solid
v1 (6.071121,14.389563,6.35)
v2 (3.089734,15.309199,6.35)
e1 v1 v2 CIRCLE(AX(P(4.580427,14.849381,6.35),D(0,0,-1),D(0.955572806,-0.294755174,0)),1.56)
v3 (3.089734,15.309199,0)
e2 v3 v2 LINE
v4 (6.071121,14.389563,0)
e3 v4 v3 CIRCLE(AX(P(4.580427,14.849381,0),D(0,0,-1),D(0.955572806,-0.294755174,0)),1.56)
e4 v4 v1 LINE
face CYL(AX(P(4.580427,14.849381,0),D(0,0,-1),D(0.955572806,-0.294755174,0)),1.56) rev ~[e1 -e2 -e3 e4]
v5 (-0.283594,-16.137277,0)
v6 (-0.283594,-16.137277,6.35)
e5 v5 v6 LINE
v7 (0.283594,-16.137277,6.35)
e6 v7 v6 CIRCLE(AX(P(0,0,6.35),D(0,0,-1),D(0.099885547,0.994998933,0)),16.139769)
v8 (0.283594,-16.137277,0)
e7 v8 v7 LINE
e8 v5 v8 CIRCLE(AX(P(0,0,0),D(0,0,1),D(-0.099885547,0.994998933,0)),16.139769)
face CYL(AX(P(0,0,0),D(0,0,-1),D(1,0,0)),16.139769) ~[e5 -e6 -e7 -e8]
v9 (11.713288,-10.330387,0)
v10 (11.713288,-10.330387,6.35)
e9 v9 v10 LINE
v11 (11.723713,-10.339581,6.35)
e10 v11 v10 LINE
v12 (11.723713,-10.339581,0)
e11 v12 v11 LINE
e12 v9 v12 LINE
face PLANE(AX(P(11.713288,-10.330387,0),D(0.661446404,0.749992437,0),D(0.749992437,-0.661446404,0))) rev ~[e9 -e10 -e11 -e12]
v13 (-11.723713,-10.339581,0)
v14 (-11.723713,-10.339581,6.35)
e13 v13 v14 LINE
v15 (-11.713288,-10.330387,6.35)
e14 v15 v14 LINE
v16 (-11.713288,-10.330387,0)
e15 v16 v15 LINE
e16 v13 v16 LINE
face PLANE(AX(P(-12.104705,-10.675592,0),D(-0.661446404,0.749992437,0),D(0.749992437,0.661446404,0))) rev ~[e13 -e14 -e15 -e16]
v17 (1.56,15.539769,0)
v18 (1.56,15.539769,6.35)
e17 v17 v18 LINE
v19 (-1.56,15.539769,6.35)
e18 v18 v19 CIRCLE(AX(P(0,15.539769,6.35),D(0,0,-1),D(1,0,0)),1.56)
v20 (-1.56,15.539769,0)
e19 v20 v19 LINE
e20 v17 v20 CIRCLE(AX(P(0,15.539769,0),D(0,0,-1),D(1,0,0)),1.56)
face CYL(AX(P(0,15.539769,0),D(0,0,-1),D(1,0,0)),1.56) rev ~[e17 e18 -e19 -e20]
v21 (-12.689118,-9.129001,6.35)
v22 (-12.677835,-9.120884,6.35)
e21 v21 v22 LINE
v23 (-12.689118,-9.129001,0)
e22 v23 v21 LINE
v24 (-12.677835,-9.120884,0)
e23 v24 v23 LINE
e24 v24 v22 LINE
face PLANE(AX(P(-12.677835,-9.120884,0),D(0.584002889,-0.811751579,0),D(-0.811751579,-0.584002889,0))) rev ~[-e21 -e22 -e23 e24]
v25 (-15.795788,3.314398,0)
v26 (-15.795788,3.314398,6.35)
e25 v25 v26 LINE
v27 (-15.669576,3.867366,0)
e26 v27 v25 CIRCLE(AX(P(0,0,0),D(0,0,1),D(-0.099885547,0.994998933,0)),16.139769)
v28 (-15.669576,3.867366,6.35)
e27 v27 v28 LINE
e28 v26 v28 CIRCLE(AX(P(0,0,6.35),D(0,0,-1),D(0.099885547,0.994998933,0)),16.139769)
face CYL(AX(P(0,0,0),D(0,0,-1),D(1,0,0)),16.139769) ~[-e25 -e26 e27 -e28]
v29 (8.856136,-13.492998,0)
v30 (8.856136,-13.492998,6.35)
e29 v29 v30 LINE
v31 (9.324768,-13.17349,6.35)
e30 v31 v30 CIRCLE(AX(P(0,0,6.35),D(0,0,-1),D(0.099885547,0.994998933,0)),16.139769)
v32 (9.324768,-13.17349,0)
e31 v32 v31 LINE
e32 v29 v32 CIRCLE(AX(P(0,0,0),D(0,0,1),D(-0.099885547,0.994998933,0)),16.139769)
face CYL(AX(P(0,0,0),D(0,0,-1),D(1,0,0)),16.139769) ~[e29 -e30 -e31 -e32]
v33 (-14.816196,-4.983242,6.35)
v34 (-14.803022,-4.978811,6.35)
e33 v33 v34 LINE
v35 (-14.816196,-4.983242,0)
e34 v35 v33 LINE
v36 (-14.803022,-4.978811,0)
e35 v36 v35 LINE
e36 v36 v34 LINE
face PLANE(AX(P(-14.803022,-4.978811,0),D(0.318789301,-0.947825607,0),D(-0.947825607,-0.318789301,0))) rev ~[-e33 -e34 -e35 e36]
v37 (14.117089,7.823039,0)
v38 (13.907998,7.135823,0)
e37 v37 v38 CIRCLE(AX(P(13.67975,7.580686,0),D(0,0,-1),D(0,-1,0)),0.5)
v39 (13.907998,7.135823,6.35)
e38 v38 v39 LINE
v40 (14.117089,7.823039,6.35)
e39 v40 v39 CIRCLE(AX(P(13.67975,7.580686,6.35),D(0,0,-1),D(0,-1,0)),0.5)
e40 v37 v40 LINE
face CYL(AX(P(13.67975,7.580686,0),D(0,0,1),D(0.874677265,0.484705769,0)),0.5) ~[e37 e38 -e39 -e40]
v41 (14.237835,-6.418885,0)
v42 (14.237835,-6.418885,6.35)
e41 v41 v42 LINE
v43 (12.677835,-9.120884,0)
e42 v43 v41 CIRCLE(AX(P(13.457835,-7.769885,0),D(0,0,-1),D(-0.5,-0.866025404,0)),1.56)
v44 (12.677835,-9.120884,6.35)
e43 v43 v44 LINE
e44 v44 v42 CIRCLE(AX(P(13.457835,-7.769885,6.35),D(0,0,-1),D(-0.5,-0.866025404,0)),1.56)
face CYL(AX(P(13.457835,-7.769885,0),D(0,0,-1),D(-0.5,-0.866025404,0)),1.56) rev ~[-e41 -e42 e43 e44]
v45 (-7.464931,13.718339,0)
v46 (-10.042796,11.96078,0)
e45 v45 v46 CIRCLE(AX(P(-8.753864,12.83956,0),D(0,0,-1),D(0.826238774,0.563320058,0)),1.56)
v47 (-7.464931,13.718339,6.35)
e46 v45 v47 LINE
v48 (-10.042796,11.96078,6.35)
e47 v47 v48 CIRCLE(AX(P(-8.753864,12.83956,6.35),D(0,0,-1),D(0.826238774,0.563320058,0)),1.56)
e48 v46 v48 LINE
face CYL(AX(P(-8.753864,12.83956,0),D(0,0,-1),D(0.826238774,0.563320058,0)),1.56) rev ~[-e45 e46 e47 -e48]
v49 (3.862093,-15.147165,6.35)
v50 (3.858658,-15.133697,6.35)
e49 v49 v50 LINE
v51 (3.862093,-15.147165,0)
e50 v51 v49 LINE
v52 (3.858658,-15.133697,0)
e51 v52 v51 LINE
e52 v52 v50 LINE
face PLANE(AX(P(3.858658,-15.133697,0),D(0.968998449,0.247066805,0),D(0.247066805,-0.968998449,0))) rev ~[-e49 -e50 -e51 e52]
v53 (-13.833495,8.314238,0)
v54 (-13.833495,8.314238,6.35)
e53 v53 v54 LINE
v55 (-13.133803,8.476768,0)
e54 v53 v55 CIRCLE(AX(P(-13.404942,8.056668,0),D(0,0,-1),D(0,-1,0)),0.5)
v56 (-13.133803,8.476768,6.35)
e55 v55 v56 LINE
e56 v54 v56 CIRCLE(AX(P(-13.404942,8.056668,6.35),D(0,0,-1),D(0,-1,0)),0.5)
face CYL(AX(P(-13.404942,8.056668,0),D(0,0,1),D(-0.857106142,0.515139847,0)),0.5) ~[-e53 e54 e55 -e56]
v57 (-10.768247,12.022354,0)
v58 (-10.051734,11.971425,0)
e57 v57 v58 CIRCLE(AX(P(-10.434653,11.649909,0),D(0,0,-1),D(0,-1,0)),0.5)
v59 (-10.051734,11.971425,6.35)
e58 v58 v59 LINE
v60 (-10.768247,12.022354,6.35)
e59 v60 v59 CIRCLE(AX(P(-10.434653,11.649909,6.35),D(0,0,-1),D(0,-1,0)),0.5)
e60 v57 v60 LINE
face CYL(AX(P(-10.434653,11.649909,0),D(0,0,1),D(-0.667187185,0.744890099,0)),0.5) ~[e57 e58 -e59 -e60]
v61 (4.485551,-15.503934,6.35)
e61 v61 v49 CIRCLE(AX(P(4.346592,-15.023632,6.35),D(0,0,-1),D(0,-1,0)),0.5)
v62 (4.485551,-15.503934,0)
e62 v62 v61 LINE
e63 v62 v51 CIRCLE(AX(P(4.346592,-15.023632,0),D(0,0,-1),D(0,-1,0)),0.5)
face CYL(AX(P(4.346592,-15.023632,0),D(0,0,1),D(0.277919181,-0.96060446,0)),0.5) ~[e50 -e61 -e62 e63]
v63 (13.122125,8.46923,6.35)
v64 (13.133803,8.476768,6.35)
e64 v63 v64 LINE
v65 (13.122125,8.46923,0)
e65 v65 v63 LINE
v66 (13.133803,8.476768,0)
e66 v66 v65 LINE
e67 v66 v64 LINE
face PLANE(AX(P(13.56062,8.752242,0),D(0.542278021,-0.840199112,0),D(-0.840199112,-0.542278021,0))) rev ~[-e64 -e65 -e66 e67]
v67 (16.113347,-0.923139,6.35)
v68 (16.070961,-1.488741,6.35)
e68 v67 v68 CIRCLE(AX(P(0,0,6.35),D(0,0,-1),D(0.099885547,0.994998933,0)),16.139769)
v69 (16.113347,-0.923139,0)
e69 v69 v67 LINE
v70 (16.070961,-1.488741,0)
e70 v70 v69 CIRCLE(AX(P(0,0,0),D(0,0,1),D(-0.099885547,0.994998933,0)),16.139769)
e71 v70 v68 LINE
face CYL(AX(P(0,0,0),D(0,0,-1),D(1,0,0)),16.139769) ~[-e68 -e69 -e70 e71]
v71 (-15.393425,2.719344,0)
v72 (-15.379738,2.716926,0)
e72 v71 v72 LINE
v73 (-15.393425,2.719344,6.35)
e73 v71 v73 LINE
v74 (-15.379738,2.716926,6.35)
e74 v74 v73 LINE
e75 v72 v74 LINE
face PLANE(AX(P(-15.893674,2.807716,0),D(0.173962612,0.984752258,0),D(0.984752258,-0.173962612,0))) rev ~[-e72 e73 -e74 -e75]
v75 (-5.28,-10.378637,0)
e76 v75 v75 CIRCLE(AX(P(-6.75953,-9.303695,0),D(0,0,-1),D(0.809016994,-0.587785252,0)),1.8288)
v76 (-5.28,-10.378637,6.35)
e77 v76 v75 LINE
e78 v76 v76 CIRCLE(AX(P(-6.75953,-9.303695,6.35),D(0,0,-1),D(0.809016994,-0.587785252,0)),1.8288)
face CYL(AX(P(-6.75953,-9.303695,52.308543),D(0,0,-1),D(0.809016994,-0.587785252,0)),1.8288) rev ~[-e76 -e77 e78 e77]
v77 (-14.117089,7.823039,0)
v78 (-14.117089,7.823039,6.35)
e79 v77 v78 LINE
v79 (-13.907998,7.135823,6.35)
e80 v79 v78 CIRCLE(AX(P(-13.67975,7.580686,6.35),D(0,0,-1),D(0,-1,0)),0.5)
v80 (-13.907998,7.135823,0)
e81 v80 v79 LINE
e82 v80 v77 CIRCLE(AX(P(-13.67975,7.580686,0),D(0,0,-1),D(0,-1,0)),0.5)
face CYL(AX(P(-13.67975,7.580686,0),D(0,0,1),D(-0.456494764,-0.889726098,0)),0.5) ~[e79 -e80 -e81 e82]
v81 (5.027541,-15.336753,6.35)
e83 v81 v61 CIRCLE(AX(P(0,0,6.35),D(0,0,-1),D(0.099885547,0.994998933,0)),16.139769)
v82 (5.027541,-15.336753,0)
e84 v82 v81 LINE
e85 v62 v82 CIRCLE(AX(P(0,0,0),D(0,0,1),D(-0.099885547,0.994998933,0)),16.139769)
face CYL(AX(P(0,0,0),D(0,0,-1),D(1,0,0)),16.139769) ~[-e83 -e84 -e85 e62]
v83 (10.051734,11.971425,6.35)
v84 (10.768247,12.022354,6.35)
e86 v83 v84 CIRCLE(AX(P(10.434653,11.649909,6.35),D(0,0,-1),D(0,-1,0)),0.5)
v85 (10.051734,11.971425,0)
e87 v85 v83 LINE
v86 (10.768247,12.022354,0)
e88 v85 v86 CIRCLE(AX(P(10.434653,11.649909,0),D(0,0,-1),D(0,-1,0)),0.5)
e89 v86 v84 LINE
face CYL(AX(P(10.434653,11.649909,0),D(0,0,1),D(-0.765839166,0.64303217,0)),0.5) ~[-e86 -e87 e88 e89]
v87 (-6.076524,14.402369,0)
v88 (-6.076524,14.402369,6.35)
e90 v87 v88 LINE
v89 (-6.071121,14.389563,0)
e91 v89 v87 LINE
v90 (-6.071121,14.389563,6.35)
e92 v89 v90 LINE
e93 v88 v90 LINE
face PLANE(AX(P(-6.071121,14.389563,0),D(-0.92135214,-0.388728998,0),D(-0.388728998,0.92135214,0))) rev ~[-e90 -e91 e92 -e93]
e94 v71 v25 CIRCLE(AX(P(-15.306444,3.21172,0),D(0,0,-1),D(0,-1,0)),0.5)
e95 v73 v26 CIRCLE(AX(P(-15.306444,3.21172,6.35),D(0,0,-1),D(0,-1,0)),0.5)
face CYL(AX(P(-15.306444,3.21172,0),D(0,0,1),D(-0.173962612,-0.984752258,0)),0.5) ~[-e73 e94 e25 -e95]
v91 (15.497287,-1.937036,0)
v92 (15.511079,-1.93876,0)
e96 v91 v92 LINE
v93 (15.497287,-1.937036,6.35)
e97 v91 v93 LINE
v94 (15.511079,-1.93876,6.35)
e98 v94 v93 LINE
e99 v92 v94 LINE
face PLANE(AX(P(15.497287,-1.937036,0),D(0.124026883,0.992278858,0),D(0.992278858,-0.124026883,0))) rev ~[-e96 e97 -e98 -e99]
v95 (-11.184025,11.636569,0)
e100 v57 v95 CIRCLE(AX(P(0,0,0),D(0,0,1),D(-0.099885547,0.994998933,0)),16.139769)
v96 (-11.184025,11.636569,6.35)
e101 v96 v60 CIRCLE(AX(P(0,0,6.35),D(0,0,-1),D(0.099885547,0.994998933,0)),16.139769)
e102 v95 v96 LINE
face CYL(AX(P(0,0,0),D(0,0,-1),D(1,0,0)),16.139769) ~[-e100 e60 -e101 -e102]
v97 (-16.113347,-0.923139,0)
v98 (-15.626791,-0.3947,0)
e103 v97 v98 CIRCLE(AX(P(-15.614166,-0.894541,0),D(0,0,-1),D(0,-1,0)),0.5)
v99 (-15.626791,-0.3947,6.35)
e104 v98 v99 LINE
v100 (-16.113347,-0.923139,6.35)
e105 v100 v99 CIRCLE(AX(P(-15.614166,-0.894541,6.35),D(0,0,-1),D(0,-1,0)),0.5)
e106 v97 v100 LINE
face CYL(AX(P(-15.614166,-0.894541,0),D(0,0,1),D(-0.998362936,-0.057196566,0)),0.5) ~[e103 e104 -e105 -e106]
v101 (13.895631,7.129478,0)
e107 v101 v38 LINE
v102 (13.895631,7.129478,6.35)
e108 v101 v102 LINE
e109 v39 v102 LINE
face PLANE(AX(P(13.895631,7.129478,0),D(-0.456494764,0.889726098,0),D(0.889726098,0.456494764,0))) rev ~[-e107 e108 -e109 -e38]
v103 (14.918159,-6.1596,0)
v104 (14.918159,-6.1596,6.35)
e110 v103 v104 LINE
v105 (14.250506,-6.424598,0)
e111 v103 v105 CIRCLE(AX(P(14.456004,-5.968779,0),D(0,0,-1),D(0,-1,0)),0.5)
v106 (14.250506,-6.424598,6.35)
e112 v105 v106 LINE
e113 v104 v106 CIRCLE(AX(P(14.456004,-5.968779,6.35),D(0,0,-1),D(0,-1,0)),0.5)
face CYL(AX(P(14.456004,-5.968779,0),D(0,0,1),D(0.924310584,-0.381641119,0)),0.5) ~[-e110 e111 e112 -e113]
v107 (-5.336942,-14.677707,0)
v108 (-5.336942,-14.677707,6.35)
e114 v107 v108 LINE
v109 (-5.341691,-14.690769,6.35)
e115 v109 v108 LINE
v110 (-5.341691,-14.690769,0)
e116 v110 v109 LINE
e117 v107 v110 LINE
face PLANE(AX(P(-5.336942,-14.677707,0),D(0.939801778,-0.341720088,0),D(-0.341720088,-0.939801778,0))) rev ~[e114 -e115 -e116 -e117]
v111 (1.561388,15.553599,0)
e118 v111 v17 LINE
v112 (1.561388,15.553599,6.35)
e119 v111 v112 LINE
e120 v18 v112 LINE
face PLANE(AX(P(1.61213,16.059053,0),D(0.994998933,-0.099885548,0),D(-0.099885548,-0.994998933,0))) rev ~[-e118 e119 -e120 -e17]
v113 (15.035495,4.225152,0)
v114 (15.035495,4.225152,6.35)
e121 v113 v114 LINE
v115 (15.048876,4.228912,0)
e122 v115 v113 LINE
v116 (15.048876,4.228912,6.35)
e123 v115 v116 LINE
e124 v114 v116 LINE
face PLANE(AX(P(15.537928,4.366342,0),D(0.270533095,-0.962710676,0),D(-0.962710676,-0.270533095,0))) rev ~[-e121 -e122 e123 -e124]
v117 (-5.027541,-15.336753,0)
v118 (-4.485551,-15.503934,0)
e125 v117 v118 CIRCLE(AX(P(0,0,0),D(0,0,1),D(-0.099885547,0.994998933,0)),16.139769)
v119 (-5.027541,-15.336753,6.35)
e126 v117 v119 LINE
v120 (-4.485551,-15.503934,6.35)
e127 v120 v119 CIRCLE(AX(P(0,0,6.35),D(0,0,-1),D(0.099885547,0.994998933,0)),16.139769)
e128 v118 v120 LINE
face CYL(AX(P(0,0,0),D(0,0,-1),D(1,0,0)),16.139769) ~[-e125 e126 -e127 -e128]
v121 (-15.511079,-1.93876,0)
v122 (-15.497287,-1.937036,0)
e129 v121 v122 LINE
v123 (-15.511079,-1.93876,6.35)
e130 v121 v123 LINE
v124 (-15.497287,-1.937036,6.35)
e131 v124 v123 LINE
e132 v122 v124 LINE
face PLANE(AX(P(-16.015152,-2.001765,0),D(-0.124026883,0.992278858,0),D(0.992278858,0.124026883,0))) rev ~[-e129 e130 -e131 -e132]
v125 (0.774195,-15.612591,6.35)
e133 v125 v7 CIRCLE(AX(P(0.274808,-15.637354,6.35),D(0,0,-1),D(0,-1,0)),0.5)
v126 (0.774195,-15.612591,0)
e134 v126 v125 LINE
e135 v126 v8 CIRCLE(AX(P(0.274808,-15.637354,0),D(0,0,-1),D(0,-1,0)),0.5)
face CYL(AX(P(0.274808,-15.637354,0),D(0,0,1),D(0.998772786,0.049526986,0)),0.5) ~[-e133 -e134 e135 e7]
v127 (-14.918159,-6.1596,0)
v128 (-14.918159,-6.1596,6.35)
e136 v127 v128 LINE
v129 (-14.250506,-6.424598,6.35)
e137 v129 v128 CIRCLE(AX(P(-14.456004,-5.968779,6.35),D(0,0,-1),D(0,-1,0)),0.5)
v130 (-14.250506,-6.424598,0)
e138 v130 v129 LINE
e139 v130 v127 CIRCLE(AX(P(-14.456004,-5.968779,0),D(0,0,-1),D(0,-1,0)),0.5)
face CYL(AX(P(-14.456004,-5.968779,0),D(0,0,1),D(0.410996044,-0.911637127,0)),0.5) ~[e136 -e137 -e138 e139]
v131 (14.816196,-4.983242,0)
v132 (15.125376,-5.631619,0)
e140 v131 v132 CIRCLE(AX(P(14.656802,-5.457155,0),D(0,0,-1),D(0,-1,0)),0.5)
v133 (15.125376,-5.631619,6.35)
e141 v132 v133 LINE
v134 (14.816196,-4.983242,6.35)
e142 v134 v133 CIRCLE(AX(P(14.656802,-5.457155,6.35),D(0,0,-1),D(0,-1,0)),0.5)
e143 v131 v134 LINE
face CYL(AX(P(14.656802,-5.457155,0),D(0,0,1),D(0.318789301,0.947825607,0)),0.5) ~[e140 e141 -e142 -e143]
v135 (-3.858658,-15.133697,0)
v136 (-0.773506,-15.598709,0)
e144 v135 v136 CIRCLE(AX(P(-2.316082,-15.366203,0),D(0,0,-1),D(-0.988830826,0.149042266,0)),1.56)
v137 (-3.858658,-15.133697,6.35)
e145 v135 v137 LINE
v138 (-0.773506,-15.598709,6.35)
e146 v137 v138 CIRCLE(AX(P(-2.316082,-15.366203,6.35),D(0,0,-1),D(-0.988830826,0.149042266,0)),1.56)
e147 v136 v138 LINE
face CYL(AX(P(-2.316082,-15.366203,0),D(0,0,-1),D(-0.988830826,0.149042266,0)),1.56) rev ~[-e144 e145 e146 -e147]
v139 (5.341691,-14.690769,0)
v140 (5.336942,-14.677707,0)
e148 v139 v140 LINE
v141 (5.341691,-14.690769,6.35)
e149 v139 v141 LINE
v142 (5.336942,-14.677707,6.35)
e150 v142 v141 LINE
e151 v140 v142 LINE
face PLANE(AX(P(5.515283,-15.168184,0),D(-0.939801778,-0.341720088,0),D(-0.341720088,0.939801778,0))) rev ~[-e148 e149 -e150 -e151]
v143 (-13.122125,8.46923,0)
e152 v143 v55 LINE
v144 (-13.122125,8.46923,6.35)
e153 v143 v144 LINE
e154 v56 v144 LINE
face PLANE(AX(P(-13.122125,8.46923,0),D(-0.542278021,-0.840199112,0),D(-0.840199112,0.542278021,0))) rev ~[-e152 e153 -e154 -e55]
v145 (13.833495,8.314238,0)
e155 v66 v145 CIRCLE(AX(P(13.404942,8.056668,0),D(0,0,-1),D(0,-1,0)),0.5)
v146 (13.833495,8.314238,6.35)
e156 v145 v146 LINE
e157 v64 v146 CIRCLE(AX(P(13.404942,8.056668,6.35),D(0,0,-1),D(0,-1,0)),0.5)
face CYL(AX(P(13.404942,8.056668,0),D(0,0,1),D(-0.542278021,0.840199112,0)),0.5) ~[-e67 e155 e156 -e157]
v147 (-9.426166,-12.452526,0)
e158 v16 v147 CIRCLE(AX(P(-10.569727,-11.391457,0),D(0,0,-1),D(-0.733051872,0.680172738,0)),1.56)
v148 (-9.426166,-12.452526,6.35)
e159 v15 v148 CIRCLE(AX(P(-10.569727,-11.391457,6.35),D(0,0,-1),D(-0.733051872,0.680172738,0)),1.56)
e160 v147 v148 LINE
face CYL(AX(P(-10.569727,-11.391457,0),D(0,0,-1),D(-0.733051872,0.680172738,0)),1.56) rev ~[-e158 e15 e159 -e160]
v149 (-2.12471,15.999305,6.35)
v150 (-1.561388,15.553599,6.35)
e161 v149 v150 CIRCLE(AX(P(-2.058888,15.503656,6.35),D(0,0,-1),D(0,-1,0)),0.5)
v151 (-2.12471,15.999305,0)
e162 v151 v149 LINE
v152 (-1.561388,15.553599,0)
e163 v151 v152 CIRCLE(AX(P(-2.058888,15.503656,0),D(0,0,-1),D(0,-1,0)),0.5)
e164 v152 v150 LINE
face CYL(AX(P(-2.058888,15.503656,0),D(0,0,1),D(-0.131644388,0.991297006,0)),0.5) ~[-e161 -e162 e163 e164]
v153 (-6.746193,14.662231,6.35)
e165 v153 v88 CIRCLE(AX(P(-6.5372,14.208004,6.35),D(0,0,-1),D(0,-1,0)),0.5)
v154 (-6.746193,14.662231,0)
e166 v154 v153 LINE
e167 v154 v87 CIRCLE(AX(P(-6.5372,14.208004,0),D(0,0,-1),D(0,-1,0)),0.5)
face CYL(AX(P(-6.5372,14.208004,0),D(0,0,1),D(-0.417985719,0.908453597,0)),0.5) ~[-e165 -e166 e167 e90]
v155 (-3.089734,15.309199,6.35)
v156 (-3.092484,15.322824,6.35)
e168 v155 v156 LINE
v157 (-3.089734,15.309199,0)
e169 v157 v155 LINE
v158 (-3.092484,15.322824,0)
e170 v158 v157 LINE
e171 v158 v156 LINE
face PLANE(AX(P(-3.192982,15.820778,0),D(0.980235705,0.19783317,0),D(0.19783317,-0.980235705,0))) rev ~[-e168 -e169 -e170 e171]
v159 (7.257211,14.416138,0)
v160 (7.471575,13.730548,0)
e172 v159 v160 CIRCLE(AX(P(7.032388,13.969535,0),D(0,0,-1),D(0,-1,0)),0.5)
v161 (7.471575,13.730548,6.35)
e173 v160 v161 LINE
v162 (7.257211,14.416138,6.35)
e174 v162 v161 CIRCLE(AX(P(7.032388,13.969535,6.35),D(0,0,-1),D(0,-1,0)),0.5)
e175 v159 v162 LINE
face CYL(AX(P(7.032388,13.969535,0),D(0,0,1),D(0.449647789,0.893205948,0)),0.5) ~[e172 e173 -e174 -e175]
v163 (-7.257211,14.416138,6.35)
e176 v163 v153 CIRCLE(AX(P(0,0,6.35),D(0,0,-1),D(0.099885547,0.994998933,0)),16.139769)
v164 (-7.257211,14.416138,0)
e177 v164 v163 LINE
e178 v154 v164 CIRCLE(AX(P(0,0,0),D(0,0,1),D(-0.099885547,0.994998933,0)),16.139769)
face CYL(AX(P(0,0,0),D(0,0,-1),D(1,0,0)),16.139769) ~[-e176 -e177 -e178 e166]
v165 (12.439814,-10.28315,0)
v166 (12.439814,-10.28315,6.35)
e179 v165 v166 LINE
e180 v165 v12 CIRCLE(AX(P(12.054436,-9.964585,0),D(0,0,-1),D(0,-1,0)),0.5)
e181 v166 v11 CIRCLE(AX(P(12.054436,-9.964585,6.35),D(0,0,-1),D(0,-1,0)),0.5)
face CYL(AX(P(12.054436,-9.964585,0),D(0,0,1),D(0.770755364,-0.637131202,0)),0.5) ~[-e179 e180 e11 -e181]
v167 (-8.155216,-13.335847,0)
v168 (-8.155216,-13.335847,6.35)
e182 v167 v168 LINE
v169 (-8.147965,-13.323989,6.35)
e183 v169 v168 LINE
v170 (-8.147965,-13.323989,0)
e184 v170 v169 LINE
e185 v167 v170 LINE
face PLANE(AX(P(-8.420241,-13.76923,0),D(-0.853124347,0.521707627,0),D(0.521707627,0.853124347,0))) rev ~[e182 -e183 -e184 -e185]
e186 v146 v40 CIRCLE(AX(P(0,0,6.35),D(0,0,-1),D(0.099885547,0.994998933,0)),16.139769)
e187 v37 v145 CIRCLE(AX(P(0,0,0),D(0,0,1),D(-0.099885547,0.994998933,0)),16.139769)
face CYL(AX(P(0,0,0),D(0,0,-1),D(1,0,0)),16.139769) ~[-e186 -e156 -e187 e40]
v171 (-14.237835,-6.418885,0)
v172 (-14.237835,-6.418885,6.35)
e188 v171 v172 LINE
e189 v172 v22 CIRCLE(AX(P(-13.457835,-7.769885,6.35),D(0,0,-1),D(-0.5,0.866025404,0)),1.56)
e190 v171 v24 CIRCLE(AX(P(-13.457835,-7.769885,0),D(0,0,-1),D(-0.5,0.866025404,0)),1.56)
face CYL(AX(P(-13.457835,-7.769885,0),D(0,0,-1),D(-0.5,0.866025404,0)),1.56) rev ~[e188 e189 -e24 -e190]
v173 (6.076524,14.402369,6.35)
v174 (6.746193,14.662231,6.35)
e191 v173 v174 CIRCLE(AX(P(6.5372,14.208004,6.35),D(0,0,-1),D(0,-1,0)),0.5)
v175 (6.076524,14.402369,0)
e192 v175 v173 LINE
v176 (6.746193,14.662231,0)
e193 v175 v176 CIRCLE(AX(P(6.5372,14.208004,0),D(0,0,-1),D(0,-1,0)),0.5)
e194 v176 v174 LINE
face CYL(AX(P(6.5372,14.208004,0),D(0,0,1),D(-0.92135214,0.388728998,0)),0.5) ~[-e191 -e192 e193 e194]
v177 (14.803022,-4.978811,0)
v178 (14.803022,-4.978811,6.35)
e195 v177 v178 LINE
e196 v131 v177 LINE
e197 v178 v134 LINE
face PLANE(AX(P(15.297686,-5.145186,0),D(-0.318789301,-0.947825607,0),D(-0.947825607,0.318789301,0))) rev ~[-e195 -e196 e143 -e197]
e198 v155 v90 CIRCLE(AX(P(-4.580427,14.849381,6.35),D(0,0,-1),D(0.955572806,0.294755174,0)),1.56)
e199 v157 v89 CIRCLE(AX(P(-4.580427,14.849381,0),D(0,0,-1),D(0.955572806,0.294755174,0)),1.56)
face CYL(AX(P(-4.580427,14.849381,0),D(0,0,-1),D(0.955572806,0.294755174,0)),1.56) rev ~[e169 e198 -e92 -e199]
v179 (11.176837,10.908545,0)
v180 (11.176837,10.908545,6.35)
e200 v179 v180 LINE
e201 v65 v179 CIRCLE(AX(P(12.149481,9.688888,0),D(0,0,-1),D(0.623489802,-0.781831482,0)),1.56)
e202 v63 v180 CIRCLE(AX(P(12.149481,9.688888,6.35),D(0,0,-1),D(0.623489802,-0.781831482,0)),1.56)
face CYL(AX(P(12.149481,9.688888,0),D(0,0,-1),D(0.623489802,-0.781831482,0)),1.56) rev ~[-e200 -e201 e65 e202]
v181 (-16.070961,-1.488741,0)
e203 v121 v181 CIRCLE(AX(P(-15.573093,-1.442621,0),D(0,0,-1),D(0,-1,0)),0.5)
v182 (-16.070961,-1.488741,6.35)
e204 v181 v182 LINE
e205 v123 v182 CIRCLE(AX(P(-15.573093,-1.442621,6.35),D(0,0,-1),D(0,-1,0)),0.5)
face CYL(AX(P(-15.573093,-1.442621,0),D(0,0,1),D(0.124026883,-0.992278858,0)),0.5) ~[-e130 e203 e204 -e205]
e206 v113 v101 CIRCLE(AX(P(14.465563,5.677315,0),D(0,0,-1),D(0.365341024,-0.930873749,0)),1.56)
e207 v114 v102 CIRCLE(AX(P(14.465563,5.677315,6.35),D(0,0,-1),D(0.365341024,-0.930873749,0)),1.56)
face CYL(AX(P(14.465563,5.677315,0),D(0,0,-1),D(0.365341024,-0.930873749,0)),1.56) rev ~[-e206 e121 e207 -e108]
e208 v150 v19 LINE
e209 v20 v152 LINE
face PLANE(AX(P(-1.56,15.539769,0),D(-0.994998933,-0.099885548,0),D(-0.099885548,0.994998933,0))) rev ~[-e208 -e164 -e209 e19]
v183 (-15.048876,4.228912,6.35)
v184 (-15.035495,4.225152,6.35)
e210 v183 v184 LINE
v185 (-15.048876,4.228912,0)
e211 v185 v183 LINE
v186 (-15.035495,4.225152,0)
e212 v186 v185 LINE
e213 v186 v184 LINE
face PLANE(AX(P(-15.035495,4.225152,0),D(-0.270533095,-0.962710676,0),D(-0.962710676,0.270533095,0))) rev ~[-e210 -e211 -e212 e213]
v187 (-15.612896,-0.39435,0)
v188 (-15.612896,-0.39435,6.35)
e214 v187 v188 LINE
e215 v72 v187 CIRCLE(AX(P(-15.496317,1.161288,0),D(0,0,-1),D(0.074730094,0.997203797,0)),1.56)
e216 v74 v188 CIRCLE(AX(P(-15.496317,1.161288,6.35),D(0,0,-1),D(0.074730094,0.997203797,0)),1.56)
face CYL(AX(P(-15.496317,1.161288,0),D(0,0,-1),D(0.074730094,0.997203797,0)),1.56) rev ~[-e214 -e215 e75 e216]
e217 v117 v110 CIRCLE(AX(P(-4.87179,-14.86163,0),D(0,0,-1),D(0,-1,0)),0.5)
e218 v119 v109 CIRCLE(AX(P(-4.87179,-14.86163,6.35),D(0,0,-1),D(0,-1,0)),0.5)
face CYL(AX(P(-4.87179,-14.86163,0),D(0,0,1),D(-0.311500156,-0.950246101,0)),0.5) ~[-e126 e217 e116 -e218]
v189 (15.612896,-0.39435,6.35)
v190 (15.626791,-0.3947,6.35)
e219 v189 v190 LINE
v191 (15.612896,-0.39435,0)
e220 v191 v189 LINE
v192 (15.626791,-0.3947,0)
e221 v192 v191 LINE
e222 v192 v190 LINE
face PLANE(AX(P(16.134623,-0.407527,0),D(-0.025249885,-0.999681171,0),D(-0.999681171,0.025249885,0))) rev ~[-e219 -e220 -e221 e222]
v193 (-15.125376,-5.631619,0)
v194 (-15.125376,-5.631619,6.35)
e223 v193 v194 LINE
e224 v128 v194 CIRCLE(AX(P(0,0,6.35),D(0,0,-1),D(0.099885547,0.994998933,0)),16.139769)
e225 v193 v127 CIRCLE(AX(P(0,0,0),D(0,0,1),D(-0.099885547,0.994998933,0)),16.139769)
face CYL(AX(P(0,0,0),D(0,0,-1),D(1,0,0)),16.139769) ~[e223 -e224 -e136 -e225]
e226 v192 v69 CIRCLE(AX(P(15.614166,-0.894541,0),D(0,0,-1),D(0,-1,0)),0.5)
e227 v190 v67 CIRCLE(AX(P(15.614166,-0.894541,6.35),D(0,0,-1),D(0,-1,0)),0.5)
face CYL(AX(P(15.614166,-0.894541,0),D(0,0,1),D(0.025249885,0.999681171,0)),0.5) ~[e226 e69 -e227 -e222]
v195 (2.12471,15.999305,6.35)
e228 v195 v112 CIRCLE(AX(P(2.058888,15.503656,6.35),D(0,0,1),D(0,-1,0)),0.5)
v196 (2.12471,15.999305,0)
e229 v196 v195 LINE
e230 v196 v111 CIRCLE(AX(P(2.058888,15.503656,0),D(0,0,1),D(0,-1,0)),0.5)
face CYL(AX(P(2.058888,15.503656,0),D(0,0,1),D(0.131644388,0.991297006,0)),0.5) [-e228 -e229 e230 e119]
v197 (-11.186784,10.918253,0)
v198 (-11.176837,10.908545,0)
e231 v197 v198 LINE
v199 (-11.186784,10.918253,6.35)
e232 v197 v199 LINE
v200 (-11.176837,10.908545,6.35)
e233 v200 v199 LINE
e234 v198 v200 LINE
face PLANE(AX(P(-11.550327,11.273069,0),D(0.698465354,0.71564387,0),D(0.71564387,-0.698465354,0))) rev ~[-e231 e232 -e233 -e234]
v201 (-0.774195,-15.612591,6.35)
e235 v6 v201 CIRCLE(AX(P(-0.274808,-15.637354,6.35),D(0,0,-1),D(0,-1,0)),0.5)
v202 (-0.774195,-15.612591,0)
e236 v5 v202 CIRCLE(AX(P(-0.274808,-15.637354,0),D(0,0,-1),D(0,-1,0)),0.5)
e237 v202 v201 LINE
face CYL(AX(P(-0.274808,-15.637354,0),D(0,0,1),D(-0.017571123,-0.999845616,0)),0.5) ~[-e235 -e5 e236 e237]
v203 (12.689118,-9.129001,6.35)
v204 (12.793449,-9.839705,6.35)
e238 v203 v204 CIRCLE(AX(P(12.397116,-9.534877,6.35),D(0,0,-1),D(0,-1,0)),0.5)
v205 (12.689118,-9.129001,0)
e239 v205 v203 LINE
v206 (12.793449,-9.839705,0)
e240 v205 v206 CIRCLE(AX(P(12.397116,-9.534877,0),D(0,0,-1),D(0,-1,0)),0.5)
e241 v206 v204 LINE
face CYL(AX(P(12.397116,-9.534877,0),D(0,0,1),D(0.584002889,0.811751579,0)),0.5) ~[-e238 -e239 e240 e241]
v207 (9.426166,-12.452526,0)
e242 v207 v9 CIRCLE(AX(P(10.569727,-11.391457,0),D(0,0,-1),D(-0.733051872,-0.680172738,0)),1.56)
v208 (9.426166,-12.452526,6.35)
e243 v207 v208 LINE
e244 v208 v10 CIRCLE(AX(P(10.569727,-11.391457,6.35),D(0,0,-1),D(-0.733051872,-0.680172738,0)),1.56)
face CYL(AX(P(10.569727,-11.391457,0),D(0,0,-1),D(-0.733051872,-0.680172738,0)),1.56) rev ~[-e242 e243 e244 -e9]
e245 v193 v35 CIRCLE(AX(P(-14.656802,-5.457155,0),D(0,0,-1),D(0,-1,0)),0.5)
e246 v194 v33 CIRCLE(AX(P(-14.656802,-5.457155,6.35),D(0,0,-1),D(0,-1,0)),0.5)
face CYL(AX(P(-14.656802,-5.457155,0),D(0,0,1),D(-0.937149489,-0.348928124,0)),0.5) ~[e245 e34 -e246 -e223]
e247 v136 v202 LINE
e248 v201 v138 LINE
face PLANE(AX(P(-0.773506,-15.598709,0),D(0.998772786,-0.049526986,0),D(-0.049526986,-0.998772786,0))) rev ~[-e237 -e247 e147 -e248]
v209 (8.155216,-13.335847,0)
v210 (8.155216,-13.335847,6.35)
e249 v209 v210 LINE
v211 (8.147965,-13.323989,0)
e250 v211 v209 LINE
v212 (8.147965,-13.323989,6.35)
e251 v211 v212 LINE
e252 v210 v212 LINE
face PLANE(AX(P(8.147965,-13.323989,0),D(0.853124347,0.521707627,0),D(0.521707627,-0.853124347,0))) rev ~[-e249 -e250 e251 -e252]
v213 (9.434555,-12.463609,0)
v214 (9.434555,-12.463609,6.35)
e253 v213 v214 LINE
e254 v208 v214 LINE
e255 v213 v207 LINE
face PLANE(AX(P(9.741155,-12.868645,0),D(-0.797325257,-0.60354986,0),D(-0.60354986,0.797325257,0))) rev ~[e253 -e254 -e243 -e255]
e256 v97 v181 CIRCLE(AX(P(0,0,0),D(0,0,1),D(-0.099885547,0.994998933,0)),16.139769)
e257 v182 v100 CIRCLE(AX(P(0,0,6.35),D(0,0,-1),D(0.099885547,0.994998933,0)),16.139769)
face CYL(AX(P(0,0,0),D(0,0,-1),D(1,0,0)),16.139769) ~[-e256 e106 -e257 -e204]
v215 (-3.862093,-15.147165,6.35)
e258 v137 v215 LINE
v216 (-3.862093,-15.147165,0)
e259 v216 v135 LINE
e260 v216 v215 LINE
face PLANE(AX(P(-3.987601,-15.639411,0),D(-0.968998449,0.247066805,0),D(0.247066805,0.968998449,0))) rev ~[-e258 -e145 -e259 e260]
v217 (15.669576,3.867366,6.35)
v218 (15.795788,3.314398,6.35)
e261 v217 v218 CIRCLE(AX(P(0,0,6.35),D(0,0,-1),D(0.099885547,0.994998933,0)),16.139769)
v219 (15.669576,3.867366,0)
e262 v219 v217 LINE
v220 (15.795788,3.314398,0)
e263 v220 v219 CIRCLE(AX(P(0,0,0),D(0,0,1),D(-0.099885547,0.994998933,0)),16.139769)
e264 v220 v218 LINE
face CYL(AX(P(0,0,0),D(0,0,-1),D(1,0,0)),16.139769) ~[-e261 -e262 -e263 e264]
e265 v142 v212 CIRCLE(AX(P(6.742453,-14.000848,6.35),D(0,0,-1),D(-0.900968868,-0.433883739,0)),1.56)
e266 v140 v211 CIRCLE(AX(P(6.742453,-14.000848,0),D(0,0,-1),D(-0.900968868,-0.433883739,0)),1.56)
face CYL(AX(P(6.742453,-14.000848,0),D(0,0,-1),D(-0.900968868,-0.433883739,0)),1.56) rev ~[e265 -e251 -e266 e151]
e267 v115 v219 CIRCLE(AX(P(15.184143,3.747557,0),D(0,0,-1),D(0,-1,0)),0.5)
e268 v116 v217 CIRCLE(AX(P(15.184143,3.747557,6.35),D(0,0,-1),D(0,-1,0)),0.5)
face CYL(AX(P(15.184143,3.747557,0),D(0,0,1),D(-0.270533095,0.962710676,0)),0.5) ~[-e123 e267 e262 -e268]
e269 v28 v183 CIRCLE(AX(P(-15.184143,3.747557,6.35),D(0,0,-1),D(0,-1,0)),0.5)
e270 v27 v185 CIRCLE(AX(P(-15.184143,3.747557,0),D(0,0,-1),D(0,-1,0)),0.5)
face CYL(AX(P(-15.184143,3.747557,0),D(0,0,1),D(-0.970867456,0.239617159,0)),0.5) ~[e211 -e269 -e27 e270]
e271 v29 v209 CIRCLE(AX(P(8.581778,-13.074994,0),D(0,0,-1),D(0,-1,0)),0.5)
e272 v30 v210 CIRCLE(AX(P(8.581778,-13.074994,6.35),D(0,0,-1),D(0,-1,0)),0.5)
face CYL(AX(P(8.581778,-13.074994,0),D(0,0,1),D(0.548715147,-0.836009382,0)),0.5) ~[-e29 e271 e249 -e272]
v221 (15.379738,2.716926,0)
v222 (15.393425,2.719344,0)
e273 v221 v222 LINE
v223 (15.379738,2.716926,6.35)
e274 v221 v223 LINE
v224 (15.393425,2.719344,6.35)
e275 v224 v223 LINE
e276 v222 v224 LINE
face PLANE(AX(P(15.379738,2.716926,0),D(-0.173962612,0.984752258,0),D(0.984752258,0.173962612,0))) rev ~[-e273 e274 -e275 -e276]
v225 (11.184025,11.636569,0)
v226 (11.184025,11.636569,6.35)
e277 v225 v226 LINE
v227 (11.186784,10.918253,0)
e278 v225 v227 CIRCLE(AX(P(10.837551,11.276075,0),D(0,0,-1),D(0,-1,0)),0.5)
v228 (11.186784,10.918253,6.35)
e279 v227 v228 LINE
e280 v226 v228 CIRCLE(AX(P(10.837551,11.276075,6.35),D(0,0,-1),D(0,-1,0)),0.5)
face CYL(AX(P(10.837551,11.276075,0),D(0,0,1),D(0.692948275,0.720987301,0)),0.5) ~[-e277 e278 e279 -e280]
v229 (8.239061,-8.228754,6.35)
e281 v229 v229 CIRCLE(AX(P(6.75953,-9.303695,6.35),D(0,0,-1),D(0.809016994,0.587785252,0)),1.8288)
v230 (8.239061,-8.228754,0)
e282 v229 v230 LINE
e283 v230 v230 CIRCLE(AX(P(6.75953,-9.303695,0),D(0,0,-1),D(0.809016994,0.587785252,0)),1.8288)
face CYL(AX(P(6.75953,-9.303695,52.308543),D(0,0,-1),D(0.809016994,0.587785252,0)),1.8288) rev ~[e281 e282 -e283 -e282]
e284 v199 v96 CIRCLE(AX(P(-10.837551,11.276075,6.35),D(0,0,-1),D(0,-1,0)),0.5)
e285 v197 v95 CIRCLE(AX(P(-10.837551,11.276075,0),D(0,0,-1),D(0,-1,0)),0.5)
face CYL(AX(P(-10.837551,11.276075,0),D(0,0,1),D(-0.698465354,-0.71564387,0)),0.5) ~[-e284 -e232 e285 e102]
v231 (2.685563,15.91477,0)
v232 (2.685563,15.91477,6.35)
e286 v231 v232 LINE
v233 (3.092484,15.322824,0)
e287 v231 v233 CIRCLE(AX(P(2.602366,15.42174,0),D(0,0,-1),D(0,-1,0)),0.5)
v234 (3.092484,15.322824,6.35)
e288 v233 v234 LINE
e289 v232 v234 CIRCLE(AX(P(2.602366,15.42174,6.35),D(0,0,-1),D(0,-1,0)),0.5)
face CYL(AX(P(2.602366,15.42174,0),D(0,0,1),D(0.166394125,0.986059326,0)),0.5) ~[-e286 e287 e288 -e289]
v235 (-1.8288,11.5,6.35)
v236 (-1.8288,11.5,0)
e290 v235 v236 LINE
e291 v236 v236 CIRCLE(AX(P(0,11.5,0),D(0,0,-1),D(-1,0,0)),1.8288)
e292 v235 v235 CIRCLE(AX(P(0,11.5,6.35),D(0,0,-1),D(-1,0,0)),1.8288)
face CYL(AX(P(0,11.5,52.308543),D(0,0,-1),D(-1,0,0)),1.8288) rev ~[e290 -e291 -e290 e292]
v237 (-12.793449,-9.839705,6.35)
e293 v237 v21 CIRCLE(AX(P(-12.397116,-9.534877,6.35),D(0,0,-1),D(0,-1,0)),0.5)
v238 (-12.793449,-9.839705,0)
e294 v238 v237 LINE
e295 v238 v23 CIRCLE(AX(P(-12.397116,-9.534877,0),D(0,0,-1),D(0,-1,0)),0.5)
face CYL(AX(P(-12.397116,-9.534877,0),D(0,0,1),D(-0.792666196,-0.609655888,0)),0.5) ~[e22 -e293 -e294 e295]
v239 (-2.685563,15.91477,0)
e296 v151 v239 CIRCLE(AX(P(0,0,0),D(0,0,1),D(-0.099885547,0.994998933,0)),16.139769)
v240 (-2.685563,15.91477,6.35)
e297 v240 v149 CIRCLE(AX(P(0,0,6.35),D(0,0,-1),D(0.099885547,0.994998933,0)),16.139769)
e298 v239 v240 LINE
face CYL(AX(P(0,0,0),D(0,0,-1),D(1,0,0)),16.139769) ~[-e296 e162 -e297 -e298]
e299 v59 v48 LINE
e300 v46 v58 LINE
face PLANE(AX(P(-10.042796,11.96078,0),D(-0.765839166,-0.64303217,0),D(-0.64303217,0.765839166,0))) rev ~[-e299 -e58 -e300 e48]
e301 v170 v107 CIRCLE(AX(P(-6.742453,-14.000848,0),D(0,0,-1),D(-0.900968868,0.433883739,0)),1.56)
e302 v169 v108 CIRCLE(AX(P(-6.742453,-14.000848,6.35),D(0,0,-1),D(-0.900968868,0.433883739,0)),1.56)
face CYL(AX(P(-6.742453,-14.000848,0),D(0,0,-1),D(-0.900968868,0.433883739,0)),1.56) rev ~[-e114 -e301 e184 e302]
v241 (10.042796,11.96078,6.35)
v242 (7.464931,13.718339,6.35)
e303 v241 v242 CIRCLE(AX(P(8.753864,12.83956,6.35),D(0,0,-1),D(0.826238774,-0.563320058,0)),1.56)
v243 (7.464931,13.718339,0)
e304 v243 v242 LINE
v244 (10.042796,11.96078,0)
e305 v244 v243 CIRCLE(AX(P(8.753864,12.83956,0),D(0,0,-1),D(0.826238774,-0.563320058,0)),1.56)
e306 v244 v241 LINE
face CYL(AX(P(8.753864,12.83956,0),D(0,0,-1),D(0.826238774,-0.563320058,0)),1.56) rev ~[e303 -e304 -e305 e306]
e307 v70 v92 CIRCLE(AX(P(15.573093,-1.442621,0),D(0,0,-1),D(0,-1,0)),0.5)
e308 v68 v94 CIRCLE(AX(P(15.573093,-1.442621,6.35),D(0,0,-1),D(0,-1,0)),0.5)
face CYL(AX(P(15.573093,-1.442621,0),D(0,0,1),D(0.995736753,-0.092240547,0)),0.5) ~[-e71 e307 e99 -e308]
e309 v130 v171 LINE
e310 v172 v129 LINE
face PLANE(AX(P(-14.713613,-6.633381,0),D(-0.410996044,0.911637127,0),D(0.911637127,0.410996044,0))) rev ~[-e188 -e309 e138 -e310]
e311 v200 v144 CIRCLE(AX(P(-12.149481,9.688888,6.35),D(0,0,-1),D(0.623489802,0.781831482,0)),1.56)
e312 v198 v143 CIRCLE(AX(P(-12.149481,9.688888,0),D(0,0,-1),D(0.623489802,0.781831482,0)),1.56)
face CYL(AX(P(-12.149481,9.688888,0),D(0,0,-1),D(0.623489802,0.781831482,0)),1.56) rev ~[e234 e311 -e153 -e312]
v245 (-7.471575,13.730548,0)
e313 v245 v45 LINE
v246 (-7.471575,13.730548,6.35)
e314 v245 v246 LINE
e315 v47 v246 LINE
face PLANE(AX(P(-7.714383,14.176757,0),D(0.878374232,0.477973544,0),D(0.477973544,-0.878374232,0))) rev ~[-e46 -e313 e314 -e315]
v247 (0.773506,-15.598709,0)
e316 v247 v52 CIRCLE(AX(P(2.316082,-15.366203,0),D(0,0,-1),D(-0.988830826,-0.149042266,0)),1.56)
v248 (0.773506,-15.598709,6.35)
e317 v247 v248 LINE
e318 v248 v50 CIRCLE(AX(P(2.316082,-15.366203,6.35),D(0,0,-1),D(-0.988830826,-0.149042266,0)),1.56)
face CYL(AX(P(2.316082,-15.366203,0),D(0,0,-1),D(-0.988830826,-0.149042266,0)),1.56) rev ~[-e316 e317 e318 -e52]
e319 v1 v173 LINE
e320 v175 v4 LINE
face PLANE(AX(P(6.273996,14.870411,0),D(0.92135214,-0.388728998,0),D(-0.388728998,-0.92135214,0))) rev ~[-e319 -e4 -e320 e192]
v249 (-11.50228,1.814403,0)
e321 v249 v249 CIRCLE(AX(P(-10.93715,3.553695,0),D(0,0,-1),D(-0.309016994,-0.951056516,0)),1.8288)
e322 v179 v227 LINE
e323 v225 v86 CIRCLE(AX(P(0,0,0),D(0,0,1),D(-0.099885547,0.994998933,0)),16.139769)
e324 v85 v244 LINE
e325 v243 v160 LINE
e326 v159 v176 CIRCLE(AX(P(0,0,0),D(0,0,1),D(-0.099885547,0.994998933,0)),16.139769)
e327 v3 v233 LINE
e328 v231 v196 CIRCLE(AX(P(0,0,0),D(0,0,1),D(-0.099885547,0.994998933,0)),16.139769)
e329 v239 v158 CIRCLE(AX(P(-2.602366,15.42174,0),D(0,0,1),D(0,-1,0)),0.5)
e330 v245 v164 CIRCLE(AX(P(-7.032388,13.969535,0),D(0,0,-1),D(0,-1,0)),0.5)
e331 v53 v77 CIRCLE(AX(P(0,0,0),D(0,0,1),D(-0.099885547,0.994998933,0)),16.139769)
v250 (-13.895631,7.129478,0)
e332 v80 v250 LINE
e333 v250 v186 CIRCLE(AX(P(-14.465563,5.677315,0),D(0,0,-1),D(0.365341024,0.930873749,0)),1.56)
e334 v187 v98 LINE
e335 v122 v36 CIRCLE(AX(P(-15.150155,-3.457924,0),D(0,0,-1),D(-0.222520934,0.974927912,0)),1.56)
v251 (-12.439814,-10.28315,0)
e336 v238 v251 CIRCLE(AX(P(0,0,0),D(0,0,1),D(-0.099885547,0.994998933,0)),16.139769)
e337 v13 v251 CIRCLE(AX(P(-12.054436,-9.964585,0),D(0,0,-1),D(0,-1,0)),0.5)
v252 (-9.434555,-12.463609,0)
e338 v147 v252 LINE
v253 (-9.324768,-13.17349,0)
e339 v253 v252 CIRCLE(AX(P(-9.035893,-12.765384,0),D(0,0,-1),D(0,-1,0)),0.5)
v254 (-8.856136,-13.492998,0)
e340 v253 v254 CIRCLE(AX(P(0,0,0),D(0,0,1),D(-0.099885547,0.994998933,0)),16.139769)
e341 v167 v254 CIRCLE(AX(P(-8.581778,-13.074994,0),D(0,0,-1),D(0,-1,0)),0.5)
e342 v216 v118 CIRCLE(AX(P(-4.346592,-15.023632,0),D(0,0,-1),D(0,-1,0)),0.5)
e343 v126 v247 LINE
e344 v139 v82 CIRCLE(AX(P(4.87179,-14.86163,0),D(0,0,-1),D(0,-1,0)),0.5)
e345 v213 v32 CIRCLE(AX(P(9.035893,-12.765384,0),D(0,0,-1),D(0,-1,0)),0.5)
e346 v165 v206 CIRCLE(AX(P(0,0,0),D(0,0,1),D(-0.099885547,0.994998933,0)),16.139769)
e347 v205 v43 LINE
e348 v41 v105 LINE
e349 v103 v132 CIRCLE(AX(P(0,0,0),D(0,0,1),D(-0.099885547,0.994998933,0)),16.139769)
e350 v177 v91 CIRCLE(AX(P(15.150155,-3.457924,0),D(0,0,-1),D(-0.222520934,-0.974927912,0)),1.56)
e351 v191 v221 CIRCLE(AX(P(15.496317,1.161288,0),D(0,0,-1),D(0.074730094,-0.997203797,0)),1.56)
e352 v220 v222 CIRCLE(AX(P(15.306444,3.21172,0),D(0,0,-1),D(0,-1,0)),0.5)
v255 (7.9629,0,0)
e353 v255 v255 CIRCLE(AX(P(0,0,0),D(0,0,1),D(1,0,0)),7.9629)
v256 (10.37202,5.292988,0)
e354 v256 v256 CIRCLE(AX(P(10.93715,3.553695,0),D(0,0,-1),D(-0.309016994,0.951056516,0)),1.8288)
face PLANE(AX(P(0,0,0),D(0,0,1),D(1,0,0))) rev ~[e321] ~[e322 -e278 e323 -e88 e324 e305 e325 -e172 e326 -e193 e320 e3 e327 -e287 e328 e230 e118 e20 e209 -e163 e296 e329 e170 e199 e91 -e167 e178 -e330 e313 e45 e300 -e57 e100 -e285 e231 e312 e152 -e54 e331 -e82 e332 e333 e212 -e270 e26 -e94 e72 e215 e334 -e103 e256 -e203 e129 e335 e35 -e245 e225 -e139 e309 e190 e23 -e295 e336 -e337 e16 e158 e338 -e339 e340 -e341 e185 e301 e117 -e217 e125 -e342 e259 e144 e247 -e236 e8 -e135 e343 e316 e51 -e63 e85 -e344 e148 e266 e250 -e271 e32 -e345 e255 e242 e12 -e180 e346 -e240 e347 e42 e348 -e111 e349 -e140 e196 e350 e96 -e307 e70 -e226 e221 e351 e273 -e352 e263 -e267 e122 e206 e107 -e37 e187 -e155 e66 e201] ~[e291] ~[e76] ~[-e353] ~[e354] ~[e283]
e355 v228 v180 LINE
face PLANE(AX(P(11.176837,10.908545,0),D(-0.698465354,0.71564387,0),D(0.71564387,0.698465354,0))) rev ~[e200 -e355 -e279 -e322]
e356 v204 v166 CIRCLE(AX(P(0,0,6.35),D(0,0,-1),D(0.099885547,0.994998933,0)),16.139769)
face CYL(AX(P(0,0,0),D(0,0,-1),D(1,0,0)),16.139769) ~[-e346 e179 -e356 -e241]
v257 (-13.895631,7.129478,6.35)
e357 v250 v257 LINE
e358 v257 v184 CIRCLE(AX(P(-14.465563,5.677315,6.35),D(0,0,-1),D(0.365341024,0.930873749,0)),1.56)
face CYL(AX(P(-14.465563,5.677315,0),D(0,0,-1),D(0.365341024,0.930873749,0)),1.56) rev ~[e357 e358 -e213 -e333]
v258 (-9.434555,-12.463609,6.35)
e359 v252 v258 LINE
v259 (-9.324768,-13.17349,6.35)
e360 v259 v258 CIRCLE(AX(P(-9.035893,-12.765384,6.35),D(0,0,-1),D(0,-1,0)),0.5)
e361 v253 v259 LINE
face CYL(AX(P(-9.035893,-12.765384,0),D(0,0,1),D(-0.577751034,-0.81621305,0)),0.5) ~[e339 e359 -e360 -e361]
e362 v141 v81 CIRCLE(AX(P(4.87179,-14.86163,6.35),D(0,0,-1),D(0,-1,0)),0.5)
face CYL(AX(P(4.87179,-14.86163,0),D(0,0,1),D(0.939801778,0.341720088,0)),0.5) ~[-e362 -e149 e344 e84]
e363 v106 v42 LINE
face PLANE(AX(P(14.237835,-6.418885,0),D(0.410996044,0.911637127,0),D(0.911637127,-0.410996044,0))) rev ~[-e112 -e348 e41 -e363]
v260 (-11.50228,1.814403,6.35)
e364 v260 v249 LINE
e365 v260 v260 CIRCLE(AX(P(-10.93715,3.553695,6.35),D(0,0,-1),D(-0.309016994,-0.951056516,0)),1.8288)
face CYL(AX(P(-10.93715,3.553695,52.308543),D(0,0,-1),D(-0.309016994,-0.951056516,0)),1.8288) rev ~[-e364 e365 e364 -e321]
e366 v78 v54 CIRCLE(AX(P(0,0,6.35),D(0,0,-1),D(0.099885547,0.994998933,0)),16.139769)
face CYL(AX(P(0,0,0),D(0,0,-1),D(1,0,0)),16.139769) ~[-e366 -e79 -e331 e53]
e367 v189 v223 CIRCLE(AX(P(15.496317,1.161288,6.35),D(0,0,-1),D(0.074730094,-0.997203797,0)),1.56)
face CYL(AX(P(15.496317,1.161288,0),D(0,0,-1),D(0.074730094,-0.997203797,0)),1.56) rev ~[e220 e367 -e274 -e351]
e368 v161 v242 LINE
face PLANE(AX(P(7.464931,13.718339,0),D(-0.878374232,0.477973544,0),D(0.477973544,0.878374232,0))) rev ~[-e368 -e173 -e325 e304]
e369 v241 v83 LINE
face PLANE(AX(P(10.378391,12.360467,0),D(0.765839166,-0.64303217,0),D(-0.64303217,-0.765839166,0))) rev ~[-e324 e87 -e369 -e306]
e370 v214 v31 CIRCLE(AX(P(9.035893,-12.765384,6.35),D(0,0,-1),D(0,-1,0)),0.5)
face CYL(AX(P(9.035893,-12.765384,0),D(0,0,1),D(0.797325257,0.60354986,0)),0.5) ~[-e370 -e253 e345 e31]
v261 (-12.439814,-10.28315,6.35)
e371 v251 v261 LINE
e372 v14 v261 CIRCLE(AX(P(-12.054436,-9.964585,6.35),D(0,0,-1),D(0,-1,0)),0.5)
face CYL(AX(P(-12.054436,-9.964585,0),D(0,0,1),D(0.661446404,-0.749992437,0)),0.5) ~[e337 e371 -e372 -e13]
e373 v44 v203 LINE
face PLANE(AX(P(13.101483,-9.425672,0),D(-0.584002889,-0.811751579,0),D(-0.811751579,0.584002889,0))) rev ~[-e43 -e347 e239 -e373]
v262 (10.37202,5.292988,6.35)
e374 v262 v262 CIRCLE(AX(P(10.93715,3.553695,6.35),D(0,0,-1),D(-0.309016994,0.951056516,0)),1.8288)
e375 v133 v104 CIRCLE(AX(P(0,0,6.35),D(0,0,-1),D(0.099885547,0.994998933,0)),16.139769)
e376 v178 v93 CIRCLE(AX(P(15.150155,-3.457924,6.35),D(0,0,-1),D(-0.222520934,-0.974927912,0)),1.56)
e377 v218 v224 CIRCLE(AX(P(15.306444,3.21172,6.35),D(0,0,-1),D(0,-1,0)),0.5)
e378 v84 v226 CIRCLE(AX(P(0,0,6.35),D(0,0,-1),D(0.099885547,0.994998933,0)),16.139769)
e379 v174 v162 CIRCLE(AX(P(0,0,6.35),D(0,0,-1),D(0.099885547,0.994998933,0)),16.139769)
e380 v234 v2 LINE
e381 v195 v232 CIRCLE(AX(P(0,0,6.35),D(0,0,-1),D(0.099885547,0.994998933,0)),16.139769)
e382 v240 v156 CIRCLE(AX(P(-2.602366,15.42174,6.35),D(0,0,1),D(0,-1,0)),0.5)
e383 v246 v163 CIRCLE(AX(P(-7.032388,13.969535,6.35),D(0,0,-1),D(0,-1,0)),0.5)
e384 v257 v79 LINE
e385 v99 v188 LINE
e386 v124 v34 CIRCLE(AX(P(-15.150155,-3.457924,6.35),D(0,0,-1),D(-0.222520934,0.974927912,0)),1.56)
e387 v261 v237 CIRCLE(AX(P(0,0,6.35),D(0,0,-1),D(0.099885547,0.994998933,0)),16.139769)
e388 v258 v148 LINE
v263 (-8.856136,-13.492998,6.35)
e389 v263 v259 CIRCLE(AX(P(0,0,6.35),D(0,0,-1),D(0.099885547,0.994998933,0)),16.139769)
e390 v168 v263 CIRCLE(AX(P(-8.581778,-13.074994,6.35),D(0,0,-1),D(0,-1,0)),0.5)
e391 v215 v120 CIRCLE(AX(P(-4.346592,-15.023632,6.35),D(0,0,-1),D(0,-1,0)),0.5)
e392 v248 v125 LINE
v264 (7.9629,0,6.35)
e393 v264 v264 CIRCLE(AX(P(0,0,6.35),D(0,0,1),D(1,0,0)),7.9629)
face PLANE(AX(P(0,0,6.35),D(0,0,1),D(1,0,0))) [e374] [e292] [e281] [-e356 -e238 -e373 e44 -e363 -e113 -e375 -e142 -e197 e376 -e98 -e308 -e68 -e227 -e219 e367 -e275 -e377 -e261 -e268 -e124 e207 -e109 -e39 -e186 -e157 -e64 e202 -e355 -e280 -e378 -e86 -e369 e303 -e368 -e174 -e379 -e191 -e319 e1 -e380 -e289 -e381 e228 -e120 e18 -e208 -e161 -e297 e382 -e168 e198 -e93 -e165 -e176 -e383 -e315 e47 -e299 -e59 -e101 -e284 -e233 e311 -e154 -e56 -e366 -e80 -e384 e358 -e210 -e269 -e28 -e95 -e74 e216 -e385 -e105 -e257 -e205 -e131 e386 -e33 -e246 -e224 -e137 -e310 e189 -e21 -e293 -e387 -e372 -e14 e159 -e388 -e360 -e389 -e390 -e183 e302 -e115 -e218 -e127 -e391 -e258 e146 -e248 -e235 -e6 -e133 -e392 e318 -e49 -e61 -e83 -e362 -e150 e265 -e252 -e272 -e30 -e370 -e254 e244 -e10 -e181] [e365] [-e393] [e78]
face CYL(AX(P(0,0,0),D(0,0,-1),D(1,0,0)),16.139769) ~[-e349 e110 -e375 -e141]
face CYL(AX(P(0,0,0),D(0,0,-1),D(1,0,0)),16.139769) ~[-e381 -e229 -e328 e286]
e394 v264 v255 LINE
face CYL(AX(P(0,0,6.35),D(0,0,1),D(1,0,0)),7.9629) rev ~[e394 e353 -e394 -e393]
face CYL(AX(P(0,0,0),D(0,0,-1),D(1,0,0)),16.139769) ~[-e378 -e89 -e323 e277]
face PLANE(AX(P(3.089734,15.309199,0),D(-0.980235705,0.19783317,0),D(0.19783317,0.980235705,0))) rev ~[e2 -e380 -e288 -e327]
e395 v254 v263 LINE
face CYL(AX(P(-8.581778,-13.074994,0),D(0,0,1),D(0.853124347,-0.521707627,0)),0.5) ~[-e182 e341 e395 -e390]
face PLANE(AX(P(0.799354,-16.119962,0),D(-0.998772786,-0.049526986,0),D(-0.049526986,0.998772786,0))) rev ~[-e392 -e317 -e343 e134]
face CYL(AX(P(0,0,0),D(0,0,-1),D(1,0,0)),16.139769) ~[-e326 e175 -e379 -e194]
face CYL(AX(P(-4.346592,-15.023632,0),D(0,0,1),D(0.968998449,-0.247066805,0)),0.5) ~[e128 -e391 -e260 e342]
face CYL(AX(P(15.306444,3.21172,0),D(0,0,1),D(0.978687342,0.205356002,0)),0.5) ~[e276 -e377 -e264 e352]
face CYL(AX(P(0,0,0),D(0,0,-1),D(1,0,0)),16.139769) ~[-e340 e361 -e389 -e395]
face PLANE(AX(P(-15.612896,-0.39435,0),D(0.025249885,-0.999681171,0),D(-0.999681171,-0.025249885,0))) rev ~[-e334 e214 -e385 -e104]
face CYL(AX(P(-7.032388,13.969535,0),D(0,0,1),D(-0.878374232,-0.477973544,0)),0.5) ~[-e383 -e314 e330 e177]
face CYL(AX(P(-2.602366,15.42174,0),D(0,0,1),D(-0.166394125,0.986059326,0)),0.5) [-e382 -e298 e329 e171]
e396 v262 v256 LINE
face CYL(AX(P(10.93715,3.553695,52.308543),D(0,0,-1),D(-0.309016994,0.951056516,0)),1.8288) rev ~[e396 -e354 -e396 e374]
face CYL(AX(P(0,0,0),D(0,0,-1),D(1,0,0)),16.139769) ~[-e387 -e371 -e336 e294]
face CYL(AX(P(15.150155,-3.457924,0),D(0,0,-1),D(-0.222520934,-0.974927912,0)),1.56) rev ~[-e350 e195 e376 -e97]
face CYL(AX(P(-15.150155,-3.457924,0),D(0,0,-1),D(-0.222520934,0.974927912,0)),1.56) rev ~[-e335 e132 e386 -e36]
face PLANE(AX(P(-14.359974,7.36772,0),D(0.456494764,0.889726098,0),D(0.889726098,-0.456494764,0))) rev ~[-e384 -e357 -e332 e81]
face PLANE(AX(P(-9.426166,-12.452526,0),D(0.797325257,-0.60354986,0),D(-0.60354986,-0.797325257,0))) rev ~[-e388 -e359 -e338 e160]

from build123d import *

# Parameters (mm, degrees)
SKETCH2_R                = 16.139769025
BOSS_EXTRUDE1_DEPTH      = 6.35
CUT_EXTRUDE1_DEPTH       = 7.35
FILLET1_R                = 0.5
CIRPATTERN1_COUNT        = 21
FILLET1_OF_CIRPATTERN1_R = 0.5
SKETCH4_R                = 7.9629
CUT_EXTRUDE2_DEPTH       = 7.35
F_6_CLEARANCE_HOLE1_D    = 3.6576
CIRPATTERN2_COUNT        = 5


with BuildPart() as part:
    # Sketch2 → Boss-Extrude1 (new body)
    with BuildSketch(Plane.XY):
        Circle(SKETCH2_R)
    extrude(amount=BOSS_EXTRUDE1_DEPTH)

    # Sketch3 → Cut-Extrude1 (cut, through all)
    with BuildSketch(Plane(origin=(0, 0, 0), x_dir=(-1, 0, 0), z_dir=(0, 0, -1))):
        with BuildLine():
            Line((-1.612129665, 16.059052964), (-1.56, 15.539769025))
            ThreePointArc((-1.56, 15.539769025), (0, 13.979769025), (1.56, 15.539769025))
            Line((1.56, 15.539769025), (1.612129665, 16.059052964))
            ThreePointArc((1.612129665, 16.059052964), (0, 16.139769025), (-1.612129665, 16.059052964))
        make_face()
    cut_extrude1 = extrude(amount=-CUT_EXTRUDE1_DEPTH, mode=Mode.SUBTRACT)

    # Fillet1
    fillet1_edges = [part.edges().sort_by_distance(p)[0] for p in [
        (1.612129665, 16.059052964, 3.175),
        (-1.612129665, 16.059052964, 3.175),
    ]]
    fillet(fillet1_edges, radius=FILLET1_R)

    # CirPattern1: Cut-Extrude1 ×21 about axis
    cirpattern1_axis = Axis((0, 0, 0), (0, 0, 1))
    for i in range(1, CIRPATTERN1_COUNT):
        add(cut_extrude1.rotate(cirpattern1_axis, i * 360 / CIRPATTERN1_COUNT), mode=Mode.SUBTRACT)

    # Fillet1 of CirPattern1
    fillet1_of_cirpattern1_edges = [part.edges().sort_by_distance(p)[0] for p in [
        (-3.192981691, 15.82077786, 3.175),
        (-6.273996224, 14.870410739, 3.175),
        (-7.71438261, 14.176757214, 3.175),
        (-10.378390686, 12.360467262, 3.175),
        (-11.550326781, 11.273069476, 3.175),
        (-13.560619591, 8.752242025, 3.175),
        (-14.35997373, 7.367720044, 3.175),
        (-15.537927936, 4.366341676, 3.175),
        (-15.893673995, 2.807716354, 3.175),
        (-16.134623196, -0.407527292, 3.175),
        (-16.015151577, -2.001765256, 3.175),
        (-15.29768638, -5.145185672, 3.175),
        (-14.71361266, -6.633381239, 3.175),
        (-13.101482996, -9.425671726, 3.175),
        (-12.104704689, -10.675592188, 3.175),
        (-9.741155353, -12.868645483, 3.175),
        (-8.420240586, -13.769229922, 3.175),
        (-5.515283308, -15.168183616, 3.175),
        (-3.987601155, -15.639411153, 3.175),
        (-0.799354138, -16.11996207, 3.175),
        (0.799354138, -16.11996207, 3.175),
        (3.987601155, -15.639411153, 3.175),
        (5.515283308, -15.168183616, 3.175),
        (8.420240586, -13.769229922, 3.175),
        (9.741155353, -12.868645483, 3.175),
        (12.104704689, -10.675592188, 3.175),
        (13.101482996, -9.425671726, 3.175),
        (14.71361266, -6.633381239, 3.175),
        (15.29768638, -5.145185672, 3.175),
        (16.015151577, -2.001765256, 3.175),
        (16.134623196, -0.407527292, 3.175),
        (15.893673995, 2.807716354, 3.175),
        (15.537927936, 4.366341676, 3.175),
        (14.35997373, 7.367720044, 3.175),
        (13.560619591, 8.752242025, 3.175),
        (11.550326781, 11.273069476, 3.175),
        (10.378390686, 12.360467262, 3.175),
        (7.71438261, 14.176757214, 3.175),
        (6.273996224, 14.870410739, 3.175),
        (3.192981691, 15.82077786, 3.175),
    ]]
    fillet(fillet1_of_cirpattern1_edges, radius=FILLET1_OF_CIRPATTERN1_R)

    # Sketch4 → Cut-Extrude2 (cut, through all)
    with BuildSketch(Plane.XY.offset(6.35)):
        Circle(SKETCH4_R)
    extrude(amount=-CUT_EXTRUDE2_DEPTH, mode=Mode.SUBTRACT)

    # #6 Clearance Hole1 (through all)
    with Locations(Plane.XY.offset(6.35)):
        with Locations((0, 11.5)):
            f_6_clearance_hole1 = Hole(F_6_CLEARANCE_HOLE1_D / 2)

    # CirPattern2: #6 Clearance Hole1 ×5 about axis
    cirpattern2_axis = Axis((0, 0, 0), (0, 0, 1))
    for i in range(1, CIRPATTERN2_COUNT):
        add(f_6_clearance_hole1.rotate(cirpattern2_axis, i * 360 / CIRPATTERN2_COUNT), mode=Mode.SUBTRACT)


solid = part.part
